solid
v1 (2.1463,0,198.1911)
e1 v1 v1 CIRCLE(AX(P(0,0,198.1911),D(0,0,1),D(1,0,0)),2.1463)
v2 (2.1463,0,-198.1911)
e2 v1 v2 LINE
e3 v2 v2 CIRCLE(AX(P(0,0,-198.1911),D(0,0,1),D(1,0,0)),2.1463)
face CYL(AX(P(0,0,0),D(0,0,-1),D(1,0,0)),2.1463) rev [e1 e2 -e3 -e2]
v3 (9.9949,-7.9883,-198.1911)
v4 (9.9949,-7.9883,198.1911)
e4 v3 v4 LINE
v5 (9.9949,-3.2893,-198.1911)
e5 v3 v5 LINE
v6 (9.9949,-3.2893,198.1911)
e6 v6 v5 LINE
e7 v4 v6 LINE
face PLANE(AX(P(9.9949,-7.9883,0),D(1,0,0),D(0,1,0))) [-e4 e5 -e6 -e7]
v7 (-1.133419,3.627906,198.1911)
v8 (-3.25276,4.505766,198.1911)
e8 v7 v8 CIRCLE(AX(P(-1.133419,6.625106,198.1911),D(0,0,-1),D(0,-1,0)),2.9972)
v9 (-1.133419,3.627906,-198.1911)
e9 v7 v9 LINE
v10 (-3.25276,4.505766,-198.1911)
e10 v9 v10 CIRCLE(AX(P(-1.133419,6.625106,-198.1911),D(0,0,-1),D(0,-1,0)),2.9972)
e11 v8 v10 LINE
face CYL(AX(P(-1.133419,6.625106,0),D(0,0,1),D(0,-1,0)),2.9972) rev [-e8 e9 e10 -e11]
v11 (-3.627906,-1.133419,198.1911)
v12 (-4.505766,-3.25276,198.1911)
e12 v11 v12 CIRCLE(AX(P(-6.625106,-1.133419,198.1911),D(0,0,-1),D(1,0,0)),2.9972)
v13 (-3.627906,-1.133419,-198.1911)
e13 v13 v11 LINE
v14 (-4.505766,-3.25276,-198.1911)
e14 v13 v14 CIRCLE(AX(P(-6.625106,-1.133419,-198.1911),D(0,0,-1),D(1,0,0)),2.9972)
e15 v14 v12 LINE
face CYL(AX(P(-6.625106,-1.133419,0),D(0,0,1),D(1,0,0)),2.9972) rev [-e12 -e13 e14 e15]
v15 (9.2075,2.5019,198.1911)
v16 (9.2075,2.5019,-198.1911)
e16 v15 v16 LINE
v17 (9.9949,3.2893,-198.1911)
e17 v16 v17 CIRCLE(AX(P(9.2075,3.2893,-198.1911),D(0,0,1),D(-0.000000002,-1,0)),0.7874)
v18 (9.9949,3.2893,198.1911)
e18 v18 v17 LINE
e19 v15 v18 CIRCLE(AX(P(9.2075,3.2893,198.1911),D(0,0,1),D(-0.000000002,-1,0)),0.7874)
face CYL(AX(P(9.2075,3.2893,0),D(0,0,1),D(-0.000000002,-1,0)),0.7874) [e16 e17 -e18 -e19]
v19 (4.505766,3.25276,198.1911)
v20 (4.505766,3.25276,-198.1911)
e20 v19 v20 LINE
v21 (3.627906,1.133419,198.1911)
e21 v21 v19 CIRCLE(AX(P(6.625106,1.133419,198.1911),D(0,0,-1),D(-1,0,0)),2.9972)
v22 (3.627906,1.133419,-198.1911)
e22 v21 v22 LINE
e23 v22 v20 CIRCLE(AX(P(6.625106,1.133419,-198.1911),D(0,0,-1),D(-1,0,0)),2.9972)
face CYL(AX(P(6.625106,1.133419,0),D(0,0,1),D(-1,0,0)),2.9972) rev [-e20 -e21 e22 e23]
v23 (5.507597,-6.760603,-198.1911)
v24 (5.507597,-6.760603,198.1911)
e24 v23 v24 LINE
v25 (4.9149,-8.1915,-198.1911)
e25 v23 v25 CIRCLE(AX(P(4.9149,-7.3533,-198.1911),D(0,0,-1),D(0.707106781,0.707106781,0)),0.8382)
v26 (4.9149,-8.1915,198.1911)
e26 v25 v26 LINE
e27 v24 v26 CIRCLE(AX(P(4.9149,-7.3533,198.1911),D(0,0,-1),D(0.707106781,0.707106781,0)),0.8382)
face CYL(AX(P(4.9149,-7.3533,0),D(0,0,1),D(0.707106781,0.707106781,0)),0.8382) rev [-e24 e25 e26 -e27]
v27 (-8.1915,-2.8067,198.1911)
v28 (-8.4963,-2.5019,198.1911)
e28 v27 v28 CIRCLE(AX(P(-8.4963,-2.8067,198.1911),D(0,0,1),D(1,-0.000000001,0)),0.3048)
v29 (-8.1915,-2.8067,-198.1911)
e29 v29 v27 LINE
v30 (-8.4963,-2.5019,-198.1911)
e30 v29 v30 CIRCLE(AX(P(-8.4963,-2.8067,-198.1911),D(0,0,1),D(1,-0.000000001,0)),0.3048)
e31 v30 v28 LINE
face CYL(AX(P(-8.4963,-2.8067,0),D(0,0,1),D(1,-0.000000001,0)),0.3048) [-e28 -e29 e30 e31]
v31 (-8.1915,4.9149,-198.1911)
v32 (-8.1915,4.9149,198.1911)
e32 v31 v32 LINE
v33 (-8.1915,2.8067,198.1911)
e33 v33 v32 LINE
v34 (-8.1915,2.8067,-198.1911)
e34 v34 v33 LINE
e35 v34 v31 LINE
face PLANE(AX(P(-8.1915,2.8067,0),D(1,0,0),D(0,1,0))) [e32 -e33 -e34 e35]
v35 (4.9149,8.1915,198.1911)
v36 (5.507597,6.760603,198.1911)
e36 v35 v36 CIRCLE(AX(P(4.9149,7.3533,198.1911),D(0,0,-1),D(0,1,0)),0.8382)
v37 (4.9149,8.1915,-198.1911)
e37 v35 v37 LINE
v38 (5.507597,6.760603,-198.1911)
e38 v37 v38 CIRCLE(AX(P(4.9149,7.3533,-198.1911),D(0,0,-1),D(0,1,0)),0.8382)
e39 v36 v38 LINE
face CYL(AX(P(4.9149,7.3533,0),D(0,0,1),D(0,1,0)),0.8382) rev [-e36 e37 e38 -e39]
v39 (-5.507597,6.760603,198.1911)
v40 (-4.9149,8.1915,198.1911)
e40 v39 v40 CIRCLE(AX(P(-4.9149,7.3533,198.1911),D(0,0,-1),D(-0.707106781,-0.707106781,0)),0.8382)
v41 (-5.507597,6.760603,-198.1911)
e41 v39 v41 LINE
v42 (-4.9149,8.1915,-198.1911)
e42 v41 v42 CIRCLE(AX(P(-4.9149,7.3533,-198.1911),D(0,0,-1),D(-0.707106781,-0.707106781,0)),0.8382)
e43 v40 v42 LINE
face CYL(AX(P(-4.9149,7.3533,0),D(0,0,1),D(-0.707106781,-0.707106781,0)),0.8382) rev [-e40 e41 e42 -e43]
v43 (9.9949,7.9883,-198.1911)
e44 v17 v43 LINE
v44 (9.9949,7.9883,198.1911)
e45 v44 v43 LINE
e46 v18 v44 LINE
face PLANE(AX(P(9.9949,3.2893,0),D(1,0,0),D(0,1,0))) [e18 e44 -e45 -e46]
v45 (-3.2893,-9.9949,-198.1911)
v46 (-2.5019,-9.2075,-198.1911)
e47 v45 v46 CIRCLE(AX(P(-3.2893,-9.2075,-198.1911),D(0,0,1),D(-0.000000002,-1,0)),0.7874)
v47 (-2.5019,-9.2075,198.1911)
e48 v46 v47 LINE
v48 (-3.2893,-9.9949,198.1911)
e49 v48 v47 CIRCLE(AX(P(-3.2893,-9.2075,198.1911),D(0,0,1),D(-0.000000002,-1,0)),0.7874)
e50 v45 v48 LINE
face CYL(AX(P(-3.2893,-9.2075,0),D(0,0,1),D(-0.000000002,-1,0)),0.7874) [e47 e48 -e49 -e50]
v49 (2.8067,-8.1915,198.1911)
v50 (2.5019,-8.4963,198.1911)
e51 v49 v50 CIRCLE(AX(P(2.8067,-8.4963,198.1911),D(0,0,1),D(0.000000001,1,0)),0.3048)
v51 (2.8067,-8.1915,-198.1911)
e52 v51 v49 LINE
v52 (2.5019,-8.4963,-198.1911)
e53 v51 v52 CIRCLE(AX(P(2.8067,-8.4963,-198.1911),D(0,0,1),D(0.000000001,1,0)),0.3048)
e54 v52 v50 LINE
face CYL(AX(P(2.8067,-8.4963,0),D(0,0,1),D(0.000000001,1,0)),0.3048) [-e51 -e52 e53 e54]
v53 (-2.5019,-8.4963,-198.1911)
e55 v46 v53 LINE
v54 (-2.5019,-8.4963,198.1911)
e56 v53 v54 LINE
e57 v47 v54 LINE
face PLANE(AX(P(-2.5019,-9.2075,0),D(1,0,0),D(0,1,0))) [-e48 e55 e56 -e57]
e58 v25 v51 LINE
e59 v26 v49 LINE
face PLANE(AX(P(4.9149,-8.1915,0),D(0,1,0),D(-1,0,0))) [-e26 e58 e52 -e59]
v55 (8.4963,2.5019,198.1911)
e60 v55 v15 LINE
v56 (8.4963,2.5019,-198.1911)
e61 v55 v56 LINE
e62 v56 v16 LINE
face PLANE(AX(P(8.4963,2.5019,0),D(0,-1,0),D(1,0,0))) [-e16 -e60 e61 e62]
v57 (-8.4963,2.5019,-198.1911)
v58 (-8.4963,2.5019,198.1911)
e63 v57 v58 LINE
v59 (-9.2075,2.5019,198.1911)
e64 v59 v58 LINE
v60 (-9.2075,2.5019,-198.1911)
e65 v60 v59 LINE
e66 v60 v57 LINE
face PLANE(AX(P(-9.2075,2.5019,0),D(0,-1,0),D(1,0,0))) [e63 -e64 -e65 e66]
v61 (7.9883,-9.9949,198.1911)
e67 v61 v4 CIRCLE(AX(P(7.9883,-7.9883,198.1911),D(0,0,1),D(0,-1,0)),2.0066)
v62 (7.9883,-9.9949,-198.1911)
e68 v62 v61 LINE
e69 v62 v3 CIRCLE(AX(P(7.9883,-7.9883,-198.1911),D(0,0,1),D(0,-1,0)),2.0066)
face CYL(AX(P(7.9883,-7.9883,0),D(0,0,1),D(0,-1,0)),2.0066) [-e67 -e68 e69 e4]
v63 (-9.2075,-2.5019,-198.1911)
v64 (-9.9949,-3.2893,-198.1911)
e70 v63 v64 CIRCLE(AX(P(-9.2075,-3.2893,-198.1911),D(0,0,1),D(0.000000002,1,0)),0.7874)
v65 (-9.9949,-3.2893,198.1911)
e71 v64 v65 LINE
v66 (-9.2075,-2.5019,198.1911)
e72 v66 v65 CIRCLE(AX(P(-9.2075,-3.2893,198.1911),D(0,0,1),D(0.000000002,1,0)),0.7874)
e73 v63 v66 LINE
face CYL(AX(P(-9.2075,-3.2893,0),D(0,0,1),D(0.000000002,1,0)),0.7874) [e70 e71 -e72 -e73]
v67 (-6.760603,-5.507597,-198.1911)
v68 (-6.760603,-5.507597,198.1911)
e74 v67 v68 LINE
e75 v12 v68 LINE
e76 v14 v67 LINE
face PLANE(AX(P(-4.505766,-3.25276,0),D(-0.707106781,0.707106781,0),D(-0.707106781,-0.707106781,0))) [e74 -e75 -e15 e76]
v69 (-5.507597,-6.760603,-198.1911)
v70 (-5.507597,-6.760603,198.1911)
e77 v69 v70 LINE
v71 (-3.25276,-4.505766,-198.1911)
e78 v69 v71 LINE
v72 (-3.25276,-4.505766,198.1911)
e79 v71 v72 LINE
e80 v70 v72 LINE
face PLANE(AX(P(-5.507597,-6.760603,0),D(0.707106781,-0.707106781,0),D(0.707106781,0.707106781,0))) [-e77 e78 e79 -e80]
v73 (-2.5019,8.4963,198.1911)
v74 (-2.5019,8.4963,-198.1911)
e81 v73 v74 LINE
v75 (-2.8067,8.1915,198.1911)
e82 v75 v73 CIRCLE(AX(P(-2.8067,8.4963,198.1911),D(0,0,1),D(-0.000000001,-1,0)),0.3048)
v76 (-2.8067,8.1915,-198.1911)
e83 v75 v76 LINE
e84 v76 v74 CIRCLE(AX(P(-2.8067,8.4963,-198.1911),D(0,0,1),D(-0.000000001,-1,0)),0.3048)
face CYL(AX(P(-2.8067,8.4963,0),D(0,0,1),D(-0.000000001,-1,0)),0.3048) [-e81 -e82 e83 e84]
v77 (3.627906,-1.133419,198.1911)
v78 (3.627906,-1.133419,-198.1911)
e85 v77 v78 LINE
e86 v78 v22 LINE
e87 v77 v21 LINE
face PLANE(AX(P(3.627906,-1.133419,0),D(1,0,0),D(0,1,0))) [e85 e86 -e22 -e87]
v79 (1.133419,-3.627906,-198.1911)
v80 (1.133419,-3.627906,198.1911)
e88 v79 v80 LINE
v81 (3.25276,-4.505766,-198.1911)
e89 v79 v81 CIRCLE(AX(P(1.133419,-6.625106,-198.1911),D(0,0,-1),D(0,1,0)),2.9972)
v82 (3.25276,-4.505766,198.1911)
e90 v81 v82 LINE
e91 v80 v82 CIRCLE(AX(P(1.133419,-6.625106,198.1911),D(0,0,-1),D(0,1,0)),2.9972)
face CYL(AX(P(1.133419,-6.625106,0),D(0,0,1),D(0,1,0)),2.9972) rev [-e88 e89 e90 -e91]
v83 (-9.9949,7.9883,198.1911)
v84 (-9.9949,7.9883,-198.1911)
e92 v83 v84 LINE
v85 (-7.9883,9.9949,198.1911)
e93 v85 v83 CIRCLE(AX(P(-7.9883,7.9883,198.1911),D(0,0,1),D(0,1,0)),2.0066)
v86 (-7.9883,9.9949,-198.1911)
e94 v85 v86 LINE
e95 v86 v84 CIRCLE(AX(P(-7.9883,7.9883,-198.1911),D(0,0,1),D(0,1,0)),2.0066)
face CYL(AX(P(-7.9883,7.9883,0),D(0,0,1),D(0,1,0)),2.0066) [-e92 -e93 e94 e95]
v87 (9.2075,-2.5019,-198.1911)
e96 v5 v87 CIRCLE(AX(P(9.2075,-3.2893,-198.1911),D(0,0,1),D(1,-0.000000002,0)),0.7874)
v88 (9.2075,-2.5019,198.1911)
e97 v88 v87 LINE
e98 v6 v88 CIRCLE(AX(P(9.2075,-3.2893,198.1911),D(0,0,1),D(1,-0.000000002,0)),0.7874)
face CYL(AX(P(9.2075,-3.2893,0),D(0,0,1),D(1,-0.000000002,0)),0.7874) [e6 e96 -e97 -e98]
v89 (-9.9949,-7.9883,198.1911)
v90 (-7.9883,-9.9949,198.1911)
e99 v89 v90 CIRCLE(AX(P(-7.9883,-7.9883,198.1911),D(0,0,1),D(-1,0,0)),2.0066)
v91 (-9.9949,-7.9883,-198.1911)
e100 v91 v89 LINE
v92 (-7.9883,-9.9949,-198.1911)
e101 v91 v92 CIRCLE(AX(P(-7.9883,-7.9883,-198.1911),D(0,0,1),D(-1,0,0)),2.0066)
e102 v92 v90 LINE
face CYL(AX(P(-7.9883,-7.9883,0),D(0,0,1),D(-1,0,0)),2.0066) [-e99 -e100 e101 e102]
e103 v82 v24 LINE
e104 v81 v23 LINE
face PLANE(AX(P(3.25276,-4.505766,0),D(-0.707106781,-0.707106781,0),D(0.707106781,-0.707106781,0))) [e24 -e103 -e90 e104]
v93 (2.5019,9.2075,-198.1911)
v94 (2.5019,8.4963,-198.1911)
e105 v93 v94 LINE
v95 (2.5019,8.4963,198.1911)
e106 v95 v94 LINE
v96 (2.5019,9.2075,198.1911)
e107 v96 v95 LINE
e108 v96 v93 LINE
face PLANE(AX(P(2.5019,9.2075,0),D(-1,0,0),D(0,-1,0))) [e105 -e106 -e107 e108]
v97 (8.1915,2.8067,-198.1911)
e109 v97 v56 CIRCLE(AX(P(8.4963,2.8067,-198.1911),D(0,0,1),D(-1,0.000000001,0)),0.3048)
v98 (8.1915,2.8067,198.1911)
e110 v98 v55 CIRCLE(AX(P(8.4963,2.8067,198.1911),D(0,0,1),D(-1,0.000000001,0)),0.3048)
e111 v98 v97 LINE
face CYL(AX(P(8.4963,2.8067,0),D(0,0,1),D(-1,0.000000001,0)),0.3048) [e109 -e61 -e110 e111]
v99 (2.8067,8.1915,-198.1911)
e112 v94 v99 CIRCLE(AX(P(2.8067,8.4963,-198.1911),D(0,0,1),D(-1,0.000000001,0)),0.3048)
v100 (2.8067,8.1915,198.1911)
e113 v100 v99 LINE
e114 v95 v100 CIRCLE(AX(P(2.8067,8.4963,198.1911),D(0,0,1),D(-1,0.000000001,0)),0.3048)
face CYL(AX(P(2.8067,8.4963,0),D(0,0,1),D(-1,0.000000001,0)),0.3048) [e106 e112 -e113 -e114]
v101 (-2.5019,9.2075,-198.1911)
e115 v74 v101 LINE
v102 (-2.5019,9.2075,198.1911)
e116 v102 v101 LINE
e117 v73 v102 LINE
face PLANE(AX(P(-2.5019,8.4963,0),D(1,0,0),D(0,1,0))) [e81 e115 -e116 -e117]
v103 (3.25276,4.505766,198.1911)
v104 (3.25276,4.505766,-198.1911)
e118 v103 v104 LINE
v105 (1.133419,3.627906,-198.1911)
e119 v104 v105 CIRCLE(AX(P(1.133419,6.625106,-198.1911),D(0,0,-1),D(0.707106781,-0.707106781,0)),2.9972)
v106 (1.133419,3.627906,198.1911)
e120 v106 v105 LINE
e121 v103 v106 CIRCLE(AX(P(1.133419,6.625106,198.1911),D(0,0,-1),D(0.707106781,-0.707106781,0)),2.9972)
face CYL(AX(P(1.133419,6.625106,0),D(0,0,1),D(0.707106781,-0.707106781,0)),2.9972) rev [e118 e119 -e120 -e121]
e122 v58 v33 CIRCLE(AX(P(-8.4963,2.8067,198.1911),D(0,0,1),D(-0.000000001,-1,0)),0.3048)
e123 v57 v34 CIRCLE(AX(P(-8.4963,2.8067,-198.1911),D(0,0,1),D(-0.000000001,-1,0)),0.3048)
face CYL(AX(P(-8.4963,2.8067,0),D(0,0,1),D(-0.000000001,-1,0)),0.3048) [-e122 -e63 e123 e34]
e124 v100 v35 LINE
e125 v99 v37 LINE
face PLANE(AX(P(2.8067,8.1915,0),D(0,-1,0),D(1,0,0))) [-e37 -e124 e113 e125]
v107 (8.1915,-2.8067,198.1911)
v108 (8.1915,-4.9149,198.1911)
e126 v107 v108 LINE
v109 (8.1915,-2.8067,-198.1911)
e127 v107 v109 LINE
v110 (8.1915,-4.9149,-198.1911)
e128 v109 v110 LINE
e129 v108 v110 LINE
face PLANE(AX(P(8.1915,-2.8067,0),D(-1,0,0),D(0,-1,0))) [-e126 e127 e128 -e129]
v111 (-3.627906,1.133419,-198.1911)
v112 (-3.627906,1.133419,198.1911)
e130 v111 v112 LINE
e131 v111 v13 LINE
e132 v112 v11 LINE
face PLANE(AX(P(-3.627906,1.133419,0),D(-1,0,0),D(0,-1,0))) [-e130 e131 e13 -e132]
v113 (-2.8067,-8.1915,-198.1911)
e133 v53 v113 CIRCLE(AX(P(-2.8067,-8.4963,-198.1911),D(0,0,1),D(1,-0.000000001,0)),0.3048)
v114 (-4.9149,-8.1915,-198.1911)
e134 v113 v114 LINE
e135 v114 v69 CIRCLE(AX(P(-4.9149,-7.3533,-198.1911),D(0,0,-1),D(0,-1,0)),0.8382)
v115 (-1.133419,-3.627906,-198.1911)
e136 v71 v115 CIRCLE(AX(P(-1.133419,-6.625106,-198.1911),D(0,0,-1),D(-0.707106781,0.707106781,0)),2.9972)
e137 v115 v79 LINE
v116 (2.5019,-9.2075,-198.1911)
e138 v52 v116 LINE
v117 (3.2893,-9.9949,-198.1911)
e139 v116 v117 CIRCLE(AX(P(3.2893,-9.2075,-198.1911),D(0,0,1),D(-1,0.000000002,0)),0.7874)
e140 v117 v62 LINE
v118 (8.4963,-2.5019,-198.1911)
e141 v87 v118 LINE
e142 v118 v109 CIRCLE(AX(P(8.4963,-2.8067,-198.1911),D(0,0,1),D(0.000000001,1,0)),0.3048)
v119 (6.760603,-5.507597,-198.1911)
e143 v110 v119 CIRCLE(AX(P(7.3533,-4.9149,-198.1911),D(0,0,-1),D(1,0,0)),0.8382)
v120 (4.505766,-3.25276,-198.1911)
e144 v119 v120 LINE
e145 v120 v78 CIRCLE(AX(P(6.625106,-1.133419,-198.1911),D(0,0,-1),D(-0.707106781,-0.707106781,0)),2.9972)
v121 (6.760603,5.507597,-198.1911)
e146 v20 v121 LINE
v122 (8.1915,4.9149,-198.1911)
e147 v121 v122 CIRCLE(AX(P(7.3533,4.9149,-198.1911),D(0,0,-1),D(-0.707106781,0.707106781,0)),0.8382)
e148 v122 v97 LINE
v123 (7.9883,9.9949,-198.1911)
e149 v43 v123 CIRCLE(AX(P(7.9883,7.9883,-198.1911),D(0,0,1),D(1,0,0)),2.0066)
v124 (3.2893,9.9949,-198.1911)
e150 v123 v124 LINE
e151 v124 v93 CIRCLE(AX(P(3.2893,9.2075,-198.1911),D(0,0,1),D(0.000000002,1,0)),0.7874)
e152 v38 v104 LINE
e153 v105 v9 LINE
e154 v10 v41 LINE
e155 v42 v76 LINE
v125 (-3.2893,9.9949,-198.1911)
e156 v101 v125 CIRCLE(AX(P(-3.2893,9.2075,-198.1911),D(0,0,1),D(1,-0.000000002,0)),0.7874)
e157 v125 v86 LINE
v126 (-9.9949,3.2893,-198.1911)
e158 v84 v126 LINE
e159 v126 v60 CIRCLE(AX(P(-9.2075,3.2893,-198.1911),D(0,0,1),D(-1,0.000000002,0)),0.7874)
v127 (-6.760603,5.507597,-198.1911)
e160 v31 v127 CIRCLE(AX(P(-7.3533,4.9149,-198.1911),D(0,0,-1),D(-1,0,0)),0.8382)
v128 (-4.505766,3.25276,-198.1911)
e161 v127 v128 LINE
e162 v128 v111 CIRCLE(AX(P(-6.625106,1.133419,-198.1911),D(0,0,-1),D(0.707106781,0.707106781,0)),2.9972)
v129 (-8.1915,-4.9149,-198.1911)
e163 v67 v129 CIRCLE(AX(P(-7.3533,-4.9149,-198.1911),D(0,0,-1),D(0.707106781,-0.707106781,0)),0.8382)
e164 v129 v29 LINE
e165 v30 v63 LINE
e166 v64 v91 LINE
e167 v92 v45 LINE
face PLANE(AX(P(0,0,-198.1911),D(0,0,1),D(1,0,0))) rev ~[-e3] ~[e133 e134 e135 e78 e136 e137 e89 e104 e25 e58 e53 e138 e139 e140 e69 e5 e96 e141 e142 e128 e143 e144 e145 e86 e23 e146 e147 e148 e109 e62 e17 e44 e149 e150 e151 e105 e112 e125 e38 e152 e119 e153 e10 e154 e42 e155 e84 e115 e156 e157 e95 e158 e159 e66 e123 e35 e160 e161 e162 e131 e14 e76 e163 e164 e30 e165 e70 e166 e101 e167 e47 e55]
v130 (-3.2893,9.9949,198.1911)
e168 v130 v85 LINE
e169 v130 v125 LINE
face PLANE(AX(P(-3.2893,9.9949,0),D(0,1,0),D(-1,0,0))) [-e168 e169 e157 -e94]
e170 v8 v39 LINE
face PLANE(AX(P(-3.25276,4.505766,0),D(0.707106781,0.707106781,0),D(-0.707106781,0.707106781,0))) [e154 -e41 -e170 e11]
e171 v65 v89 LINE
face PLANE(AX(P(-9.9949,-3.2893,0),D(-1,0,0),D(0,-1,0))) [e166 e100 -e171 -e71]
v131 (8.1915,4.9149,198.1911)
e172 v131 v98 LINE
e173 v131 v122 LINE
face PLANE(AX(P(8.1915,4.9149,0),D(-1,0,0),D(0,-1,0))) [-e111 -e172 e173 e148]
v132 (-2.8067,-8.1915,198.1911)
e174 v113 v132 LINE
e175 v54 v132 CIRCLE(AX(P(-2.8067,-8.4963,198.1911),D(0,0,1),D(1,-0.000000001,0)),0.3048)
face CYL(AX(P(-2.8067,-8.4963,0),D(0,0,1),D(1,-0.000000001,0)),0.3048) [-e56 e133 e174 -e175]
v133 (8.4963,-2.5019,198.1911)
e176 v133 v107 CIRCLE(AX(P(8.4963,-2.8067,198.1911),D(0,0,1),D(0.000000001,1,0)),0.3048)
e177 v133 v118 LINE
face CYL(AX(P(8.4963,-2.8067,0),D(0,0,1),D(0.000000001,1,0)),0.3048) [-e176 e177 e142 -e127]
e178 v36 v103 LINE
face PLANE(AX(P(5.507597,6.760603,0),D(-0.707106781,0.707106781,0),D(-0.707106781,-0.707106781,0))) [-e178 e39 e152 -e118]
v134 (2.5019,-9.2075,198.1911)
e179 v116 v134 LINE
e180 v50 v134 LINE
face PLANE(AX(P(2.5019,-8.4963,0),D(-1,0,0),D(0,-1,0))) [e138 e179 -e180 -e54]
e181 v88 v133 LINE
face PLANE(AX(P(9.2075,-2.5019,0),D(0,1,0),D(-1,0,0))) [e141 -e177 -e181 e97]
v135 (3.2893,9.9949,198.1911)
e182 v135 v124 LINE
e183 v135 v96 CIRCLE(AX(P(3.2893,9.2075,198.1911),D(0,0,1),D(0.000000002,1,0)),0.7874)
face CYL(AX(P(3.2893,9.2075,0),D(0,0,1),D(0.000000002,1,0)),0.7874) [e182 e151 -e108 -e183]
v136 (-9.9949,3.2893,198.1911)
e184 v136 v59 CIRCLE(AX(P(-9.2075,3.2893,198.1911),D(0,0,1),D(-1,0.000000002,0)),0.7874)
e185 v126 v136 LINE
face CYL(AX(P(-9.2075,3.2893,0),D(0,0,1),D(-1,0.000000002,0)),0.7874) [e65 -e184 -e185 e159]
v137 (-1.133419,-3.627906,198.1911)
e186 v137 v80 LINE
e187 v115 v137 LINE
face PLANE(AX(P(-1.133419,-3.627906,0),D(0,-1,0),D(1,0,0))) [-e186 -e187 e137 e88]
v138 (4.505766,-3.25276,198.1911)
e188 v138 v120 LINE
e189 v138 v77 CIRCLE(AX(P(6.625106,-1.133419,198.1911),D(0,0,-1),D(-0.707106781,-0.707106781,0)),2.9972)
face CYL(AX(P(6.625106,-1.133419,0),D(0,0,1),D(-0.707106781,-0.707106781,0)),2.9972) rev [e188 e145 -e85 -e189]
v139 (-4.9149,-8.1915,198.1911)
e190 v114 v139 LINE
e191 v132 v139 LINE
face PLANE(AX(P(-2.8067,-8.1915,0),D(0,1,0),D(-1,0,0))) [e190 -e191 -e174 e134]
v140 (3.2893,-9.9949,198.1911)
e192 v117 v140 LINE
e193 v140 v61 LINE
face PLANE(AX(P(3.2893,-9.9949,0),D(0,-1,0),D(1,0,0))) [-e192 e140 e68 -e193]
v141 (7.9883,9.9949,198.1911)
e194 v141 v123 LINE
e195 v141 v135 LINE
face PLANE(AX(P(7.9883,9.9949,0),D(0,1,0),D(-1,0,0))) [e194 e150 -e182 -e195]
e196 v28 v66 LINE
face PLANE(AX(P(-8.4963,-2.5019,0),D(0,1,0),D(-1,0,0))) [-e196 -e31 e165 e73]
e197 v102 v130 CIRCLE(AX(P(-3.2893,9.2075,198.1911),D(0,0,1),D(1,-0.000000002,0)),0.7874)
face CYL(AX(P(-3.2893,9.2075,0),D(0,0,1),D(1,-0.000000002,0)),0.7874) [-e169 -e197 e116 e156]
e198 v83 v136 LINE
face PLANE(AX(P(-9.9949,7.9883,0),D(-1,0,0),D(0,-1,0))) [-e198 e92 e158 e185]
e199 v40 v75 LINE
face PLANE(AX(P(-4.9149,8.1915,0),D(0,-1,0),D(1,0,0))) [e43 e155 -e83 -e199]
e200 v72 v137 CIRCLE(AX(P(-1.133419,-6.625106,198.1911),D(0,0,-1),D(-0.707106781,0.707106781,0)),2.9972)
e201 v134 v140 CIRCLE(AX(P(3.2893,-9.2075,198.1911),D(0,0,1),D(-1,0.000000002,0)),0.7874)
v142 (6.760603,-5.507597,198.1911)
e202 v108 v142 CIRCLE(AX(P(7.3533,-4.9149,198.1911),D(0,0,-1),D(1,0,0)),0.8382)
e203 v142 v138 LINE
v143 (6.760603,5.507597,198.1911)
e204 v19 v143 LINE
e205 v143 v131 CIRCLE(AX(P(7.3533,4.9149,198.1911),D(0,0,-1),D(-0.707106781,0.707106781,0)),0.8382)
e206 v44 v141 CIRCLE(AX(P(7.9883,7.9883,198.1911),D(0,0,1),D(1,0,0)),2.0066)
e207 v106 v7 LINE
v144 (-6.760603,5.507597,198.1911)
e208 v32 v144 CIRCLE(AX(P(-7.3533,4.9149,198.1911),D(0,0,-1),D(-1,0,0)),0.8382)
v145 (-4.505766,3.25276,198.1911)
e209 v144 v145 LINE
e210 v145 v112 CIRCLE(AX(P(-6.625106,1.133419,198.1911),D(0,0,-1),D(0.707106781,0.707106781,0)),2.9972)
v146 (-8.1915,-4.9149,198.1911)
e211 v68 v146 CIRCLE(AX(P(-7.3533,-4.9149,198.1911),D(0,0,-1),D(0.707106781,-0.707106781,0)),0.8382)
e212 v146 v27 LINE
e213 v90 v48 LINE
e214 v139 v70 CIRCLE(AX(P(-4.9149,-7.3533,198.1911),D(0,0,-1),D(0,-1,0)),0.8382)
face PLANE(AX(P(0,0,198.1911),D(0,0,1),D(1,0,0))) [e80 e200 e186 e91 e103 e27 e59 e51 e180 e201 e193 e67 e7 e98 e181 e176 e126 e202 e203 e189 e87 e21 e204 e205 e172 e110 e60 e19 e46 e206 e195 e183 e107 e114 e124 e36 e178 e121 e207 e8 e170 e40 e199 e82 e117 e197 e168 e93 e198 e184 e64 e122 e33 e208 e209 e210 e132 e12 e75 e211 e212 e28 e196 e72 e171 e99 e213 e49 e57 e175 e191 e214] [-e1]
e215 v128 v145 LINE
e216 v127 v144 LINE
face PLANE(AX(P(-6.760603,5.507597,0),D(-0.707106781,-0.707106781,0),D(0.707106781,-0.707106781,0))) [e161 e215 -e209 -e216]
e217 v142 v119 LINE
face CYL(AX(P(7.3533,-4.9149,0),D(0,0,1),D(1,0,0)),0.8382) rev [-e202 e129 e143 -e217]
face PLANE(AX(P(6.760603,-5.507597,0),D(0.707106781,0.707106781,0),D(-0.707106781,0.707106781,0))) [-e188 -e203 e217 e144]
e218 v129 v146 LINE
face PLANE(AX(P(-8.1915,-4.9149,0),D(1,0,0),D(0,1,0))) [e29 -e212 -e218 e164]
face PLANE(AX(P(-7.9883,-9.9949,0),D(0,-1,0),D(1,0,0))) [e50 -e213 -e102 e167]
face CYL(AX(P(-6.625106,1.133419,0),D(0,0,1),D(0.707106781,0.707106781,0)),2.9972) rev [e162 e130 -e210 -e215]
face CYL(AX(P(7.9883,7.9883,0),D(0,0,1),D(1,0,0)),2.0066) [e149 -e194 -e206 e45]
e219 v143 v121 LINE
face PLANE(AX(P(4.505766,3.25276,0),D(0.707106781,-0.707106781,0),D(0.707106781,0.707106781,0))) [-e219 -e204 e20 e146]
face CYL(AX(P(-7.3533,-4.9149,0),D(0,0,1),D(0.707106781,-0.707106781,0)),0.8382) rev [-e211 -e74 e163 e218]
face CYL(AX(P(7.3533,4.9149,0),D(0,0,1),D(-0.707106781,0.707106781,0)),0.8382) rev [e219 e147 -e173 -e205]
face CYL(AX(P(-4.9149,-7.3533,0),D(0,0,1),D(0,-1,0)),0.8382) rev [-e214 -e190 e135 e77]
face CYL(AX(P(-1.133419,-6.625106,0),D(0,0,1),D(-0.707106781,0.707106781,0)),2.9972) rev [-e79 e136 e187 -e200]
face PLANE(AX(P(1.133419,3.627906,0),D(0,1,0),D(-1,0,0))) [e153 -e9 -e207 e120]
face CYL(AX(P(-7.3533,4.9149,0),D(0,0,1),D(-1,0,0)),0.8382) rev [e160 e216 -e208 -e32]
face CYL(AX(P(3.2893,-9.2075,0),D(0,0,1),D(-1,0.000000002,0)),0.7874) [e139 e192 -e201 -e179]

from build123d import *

# Parameters (mm, degrees)
SKETCH1_R           = 2.1463
BOSS_EXTRUDE1_DEPTH = 198.1911


with BuildPart() as part:
    # Sketch1 → Boss-Extrude1 (new, symmetric)
    with BuildSketch(Plane.XY):
        with BuildLine():
            Line((-9.9949, 7.9883), (-9.9949, 3.2893))
            ThreePointArc((-9.9949, 3.2893), (-9.76427588, 2.73252412), (-9.2075, 2.5019))
            Line((-9.2075, 2.5019), (-8.4963, 2.5019))
            ThreePointArc((-8.4963, 2.5019), (-8.280773853, 2.591173853), (-8.1915, 2.8067))
            Line((-8.1915, 2.8067), (-8.1915, 4.9149))
            ThreePointArc((-8.1915, 4.9149), (-7.674065253, 5.689295824), (-6.760603096, 5.507596904))
            Line((-6.760603096, 5.507596904), (-4.505765747, 3.252759555))
            ThreePointArc((-4.505765747, 3.252759555), (-3.856054457, 2.280397894), (-3.627906192, 1.133419111))
            Line((-3.627906192, 1.133419111), (-3.627906192, -1.133419111))
            ThreePointArc((-3.627906192, -1.133419111), (-3.856054457, -2.280397894), (-4.505765747, -3.252759555))
            Line((-4.505765747, -3.252759555), (-6.760603096, -5.507596904))
            ThreePointArc((-6.760603096, -5.507596904), (-7.674065253, -5.689295824), (-8.1915, -4.9149))
            Line((-8.1915, -4.9149), (-8.1915, -2.8067))
            ThreePointArc((-8.1915, -2.8067), (-8.280773853, -2.591173853), (-8.4963, -2.5019))
            Line((-8.4963, -2.5019), (-9.2075, -2.5019))
            ThreePointArc((-9.2075, -2.5019), (-9.76427588, -2.73252412), (-9.9949, -3.2893))
            Line((-9.9949, -3.2893), (-9.9949, -7.9883))
            ThreePointArc((-9.9949, -7.9883), (-9.407180467, -9.407180467), (-7.9883, -9.9949))
            Line((-7.9883, -9.9949), (-3.2893, -9.9949))
            ThreePointArc((-3.2893, -9.9949), (-2.73252412, -9.76427588), (-2.5019, -9.2075))
            Line((-2.5019, -9.2075), (-2.5019, -8.4963))
            ThreePointArc((-2.5019, -8.4963), (-2.591173853, -8.280773853), (-2.8067, -8.1915))
            Line((-2.8067, -8.1915), (-4.9149, -8.1915))
            ThreePointArc((-4.9149, -8.1915), (-5.689295824, -7.674065253), (-5.507596904, -6.760603096))
            Line((-5.507596904, -6.760603096), (-3.252759555, -4.505765747))
            ThreePointArc((-3.252759555, -4.505765747), (-2.280397894, -3.856054457), (-1.133419111, -3.627906192))
            Line((-1.133419111, -3.627906192), (1.133419111, -3.627906192))
            ThreePointArc((1.133419111, -3.627906192), (2.280397894, -3.856054457), (3.252759555, -4.505765747))
            Line((3.252759555, -4.505765747), (5.507596904, -6.760603096))
            ThreePointArc((5.507596904, -6.760603096), (5.689295824, -7.674065253), (4.9149, -8.1915))
            Line((4.9149, -8.1915), (2.8067, -8.1915))
            ThreePointArc((2.8067, -8.1915), (2.591173853, -8.280773853), (2.5019, -8.4963))
            Line((2.5019, -8.4963), (2.5019, -9.2075))
            ThreePointArc((2.5019, -9.2075), (2.73252412, -9.76427588), (3.2893, -9.9949))
            Line((3.2893, -9.9949), (7.9883, -9.9949))
            ThreePointArc((7.9883, -9.9949), (9.407180467, -9.407180467), (9.9949, -7.9883))
            Line((9.9949, -7.9883), (9.9949, -3.2893))
            ThreePointArc((9.9949, -3.2893), (9.76427588, -2.73252412), (9.2075, -2.5019))
            Line((9.2075, -2.5019), (8.4963, -2.5019))
            ThreePointArc((8.4963, -2.5019), (8.280773853, -2.591173853), (8.1915, -2.8067))
            Line((8.1915, -2.8067), (8.1915, -4.9149))
            ThreePointArc((8.1915, -4.9149), (7.674065253, -5.689295824), (6.760603096, -5.507596904))
            Line((6.760603096, -5.507596904), (4.505765747, -3.252759555))
            ThreePointArc((4.505765747, -3.252759555), (3.856054457, -2.280397894), (3.627906192, -1.133419111))
            Line((3.627906192, -1.133419111), (3.627906192, 1.133419111))
            ThreePointArc((3.627906192, 1.133419111), (3.856054457, 2.280397894), (4.505765747, 3.252759555))
            Line((4.505765747, 3.252759555), (6.760603096, 5.507596904))
            ThreePointArc((6.760603096, 5.507596904), (7.674065253, 5.689295824), (8.1915, 4.9149))
            Line((8.1915, 4.9149), (8.1915, 2.8067))
            ThreePointArc((8.1915, 2.8067), (8.280773853, 2.591173853), (8.4963, 2.5019))
            Line((8.4963, 2.5019), (9.2075, 2.5019))
            ThreePointArc((9.2075, 2.5019), (9.76427588, 2.73252412), (9.9949, 3.2893))
            Line((9.9949, 3.2893), (9.9949, 7.9883))
            ThreePointArc((9.9949, 7.9883), (9.407180467, 9.407180467), (7.9883, 9.9949))
            Line((7.9883, 9.9949), (3.2893, 9.9949))
            ThreePointArc((3.2893, 9.9949), (2.73252412, 9.76427588), (2.5019, 9.2075))
            Line((2.5019, 9.2075), (2.5019, 8.4963))
            ThreePointArc((2.5019, 8.4963), (2.591173853, 8.280773853), (2.8067, 8.1915))
            Line((2.8067, 8.1915), (4.9149, 8.1915))
            ThreePointArc((4.9149, 8.1915), (5.689295824, 7.674065253), (5.507596904, 6.760603096))
            Line((5.507596904, 6.760603096), (3.252759555, 4.505765747))
            ThreePointArc((3.252759555, 4.505765747), (2.280397894, 3.856054457), (1.133419111, 3.627906192))
            Line((1.133419111, 3.627906192), (-1.133419111, 3.627906192))
            ThreePointArc((-1.133419111, 3.627906192), (-2.280397894, 3.856054457), (-3.252759555, 4.505765747))
            Line((-3.252759555, 4.505765747), (-5.507596904, 6.760603096))
            ThreePointArc((-5.507596904, 6.760603096), (-5.689295824, 7.674065253), (-4.9149, 8.1915))
            Line((-4.9149, 8.1915), (-2.8067, 8.1915))
            ThreePointArc((-2.8067, 8.1915), (-2.591173853, 8.280773853), (-2.5019, 8.4963))
            Line((-2.5019, 8.4963), (-2.5019, 9.2075))
            ThreePointArc((-2.5019, 9.2075), (-2.73252412, 9.76427588), (-3.2893, 9.9949))
            Line((-3.2893, 9.9949), (-7.9883, 9.9949))
            ThreePointArc((-7.9883, 9.9949), (-9.407180467, 9.407180467), (-9.9949, 7.9883))
        make_face()
        Circle(SKETCH1_R, mode=Mode.SUBTRACT)
    extrude(amount=BOSS_EXTRUDE1_DEPTH, both=True)


solid = part.part
